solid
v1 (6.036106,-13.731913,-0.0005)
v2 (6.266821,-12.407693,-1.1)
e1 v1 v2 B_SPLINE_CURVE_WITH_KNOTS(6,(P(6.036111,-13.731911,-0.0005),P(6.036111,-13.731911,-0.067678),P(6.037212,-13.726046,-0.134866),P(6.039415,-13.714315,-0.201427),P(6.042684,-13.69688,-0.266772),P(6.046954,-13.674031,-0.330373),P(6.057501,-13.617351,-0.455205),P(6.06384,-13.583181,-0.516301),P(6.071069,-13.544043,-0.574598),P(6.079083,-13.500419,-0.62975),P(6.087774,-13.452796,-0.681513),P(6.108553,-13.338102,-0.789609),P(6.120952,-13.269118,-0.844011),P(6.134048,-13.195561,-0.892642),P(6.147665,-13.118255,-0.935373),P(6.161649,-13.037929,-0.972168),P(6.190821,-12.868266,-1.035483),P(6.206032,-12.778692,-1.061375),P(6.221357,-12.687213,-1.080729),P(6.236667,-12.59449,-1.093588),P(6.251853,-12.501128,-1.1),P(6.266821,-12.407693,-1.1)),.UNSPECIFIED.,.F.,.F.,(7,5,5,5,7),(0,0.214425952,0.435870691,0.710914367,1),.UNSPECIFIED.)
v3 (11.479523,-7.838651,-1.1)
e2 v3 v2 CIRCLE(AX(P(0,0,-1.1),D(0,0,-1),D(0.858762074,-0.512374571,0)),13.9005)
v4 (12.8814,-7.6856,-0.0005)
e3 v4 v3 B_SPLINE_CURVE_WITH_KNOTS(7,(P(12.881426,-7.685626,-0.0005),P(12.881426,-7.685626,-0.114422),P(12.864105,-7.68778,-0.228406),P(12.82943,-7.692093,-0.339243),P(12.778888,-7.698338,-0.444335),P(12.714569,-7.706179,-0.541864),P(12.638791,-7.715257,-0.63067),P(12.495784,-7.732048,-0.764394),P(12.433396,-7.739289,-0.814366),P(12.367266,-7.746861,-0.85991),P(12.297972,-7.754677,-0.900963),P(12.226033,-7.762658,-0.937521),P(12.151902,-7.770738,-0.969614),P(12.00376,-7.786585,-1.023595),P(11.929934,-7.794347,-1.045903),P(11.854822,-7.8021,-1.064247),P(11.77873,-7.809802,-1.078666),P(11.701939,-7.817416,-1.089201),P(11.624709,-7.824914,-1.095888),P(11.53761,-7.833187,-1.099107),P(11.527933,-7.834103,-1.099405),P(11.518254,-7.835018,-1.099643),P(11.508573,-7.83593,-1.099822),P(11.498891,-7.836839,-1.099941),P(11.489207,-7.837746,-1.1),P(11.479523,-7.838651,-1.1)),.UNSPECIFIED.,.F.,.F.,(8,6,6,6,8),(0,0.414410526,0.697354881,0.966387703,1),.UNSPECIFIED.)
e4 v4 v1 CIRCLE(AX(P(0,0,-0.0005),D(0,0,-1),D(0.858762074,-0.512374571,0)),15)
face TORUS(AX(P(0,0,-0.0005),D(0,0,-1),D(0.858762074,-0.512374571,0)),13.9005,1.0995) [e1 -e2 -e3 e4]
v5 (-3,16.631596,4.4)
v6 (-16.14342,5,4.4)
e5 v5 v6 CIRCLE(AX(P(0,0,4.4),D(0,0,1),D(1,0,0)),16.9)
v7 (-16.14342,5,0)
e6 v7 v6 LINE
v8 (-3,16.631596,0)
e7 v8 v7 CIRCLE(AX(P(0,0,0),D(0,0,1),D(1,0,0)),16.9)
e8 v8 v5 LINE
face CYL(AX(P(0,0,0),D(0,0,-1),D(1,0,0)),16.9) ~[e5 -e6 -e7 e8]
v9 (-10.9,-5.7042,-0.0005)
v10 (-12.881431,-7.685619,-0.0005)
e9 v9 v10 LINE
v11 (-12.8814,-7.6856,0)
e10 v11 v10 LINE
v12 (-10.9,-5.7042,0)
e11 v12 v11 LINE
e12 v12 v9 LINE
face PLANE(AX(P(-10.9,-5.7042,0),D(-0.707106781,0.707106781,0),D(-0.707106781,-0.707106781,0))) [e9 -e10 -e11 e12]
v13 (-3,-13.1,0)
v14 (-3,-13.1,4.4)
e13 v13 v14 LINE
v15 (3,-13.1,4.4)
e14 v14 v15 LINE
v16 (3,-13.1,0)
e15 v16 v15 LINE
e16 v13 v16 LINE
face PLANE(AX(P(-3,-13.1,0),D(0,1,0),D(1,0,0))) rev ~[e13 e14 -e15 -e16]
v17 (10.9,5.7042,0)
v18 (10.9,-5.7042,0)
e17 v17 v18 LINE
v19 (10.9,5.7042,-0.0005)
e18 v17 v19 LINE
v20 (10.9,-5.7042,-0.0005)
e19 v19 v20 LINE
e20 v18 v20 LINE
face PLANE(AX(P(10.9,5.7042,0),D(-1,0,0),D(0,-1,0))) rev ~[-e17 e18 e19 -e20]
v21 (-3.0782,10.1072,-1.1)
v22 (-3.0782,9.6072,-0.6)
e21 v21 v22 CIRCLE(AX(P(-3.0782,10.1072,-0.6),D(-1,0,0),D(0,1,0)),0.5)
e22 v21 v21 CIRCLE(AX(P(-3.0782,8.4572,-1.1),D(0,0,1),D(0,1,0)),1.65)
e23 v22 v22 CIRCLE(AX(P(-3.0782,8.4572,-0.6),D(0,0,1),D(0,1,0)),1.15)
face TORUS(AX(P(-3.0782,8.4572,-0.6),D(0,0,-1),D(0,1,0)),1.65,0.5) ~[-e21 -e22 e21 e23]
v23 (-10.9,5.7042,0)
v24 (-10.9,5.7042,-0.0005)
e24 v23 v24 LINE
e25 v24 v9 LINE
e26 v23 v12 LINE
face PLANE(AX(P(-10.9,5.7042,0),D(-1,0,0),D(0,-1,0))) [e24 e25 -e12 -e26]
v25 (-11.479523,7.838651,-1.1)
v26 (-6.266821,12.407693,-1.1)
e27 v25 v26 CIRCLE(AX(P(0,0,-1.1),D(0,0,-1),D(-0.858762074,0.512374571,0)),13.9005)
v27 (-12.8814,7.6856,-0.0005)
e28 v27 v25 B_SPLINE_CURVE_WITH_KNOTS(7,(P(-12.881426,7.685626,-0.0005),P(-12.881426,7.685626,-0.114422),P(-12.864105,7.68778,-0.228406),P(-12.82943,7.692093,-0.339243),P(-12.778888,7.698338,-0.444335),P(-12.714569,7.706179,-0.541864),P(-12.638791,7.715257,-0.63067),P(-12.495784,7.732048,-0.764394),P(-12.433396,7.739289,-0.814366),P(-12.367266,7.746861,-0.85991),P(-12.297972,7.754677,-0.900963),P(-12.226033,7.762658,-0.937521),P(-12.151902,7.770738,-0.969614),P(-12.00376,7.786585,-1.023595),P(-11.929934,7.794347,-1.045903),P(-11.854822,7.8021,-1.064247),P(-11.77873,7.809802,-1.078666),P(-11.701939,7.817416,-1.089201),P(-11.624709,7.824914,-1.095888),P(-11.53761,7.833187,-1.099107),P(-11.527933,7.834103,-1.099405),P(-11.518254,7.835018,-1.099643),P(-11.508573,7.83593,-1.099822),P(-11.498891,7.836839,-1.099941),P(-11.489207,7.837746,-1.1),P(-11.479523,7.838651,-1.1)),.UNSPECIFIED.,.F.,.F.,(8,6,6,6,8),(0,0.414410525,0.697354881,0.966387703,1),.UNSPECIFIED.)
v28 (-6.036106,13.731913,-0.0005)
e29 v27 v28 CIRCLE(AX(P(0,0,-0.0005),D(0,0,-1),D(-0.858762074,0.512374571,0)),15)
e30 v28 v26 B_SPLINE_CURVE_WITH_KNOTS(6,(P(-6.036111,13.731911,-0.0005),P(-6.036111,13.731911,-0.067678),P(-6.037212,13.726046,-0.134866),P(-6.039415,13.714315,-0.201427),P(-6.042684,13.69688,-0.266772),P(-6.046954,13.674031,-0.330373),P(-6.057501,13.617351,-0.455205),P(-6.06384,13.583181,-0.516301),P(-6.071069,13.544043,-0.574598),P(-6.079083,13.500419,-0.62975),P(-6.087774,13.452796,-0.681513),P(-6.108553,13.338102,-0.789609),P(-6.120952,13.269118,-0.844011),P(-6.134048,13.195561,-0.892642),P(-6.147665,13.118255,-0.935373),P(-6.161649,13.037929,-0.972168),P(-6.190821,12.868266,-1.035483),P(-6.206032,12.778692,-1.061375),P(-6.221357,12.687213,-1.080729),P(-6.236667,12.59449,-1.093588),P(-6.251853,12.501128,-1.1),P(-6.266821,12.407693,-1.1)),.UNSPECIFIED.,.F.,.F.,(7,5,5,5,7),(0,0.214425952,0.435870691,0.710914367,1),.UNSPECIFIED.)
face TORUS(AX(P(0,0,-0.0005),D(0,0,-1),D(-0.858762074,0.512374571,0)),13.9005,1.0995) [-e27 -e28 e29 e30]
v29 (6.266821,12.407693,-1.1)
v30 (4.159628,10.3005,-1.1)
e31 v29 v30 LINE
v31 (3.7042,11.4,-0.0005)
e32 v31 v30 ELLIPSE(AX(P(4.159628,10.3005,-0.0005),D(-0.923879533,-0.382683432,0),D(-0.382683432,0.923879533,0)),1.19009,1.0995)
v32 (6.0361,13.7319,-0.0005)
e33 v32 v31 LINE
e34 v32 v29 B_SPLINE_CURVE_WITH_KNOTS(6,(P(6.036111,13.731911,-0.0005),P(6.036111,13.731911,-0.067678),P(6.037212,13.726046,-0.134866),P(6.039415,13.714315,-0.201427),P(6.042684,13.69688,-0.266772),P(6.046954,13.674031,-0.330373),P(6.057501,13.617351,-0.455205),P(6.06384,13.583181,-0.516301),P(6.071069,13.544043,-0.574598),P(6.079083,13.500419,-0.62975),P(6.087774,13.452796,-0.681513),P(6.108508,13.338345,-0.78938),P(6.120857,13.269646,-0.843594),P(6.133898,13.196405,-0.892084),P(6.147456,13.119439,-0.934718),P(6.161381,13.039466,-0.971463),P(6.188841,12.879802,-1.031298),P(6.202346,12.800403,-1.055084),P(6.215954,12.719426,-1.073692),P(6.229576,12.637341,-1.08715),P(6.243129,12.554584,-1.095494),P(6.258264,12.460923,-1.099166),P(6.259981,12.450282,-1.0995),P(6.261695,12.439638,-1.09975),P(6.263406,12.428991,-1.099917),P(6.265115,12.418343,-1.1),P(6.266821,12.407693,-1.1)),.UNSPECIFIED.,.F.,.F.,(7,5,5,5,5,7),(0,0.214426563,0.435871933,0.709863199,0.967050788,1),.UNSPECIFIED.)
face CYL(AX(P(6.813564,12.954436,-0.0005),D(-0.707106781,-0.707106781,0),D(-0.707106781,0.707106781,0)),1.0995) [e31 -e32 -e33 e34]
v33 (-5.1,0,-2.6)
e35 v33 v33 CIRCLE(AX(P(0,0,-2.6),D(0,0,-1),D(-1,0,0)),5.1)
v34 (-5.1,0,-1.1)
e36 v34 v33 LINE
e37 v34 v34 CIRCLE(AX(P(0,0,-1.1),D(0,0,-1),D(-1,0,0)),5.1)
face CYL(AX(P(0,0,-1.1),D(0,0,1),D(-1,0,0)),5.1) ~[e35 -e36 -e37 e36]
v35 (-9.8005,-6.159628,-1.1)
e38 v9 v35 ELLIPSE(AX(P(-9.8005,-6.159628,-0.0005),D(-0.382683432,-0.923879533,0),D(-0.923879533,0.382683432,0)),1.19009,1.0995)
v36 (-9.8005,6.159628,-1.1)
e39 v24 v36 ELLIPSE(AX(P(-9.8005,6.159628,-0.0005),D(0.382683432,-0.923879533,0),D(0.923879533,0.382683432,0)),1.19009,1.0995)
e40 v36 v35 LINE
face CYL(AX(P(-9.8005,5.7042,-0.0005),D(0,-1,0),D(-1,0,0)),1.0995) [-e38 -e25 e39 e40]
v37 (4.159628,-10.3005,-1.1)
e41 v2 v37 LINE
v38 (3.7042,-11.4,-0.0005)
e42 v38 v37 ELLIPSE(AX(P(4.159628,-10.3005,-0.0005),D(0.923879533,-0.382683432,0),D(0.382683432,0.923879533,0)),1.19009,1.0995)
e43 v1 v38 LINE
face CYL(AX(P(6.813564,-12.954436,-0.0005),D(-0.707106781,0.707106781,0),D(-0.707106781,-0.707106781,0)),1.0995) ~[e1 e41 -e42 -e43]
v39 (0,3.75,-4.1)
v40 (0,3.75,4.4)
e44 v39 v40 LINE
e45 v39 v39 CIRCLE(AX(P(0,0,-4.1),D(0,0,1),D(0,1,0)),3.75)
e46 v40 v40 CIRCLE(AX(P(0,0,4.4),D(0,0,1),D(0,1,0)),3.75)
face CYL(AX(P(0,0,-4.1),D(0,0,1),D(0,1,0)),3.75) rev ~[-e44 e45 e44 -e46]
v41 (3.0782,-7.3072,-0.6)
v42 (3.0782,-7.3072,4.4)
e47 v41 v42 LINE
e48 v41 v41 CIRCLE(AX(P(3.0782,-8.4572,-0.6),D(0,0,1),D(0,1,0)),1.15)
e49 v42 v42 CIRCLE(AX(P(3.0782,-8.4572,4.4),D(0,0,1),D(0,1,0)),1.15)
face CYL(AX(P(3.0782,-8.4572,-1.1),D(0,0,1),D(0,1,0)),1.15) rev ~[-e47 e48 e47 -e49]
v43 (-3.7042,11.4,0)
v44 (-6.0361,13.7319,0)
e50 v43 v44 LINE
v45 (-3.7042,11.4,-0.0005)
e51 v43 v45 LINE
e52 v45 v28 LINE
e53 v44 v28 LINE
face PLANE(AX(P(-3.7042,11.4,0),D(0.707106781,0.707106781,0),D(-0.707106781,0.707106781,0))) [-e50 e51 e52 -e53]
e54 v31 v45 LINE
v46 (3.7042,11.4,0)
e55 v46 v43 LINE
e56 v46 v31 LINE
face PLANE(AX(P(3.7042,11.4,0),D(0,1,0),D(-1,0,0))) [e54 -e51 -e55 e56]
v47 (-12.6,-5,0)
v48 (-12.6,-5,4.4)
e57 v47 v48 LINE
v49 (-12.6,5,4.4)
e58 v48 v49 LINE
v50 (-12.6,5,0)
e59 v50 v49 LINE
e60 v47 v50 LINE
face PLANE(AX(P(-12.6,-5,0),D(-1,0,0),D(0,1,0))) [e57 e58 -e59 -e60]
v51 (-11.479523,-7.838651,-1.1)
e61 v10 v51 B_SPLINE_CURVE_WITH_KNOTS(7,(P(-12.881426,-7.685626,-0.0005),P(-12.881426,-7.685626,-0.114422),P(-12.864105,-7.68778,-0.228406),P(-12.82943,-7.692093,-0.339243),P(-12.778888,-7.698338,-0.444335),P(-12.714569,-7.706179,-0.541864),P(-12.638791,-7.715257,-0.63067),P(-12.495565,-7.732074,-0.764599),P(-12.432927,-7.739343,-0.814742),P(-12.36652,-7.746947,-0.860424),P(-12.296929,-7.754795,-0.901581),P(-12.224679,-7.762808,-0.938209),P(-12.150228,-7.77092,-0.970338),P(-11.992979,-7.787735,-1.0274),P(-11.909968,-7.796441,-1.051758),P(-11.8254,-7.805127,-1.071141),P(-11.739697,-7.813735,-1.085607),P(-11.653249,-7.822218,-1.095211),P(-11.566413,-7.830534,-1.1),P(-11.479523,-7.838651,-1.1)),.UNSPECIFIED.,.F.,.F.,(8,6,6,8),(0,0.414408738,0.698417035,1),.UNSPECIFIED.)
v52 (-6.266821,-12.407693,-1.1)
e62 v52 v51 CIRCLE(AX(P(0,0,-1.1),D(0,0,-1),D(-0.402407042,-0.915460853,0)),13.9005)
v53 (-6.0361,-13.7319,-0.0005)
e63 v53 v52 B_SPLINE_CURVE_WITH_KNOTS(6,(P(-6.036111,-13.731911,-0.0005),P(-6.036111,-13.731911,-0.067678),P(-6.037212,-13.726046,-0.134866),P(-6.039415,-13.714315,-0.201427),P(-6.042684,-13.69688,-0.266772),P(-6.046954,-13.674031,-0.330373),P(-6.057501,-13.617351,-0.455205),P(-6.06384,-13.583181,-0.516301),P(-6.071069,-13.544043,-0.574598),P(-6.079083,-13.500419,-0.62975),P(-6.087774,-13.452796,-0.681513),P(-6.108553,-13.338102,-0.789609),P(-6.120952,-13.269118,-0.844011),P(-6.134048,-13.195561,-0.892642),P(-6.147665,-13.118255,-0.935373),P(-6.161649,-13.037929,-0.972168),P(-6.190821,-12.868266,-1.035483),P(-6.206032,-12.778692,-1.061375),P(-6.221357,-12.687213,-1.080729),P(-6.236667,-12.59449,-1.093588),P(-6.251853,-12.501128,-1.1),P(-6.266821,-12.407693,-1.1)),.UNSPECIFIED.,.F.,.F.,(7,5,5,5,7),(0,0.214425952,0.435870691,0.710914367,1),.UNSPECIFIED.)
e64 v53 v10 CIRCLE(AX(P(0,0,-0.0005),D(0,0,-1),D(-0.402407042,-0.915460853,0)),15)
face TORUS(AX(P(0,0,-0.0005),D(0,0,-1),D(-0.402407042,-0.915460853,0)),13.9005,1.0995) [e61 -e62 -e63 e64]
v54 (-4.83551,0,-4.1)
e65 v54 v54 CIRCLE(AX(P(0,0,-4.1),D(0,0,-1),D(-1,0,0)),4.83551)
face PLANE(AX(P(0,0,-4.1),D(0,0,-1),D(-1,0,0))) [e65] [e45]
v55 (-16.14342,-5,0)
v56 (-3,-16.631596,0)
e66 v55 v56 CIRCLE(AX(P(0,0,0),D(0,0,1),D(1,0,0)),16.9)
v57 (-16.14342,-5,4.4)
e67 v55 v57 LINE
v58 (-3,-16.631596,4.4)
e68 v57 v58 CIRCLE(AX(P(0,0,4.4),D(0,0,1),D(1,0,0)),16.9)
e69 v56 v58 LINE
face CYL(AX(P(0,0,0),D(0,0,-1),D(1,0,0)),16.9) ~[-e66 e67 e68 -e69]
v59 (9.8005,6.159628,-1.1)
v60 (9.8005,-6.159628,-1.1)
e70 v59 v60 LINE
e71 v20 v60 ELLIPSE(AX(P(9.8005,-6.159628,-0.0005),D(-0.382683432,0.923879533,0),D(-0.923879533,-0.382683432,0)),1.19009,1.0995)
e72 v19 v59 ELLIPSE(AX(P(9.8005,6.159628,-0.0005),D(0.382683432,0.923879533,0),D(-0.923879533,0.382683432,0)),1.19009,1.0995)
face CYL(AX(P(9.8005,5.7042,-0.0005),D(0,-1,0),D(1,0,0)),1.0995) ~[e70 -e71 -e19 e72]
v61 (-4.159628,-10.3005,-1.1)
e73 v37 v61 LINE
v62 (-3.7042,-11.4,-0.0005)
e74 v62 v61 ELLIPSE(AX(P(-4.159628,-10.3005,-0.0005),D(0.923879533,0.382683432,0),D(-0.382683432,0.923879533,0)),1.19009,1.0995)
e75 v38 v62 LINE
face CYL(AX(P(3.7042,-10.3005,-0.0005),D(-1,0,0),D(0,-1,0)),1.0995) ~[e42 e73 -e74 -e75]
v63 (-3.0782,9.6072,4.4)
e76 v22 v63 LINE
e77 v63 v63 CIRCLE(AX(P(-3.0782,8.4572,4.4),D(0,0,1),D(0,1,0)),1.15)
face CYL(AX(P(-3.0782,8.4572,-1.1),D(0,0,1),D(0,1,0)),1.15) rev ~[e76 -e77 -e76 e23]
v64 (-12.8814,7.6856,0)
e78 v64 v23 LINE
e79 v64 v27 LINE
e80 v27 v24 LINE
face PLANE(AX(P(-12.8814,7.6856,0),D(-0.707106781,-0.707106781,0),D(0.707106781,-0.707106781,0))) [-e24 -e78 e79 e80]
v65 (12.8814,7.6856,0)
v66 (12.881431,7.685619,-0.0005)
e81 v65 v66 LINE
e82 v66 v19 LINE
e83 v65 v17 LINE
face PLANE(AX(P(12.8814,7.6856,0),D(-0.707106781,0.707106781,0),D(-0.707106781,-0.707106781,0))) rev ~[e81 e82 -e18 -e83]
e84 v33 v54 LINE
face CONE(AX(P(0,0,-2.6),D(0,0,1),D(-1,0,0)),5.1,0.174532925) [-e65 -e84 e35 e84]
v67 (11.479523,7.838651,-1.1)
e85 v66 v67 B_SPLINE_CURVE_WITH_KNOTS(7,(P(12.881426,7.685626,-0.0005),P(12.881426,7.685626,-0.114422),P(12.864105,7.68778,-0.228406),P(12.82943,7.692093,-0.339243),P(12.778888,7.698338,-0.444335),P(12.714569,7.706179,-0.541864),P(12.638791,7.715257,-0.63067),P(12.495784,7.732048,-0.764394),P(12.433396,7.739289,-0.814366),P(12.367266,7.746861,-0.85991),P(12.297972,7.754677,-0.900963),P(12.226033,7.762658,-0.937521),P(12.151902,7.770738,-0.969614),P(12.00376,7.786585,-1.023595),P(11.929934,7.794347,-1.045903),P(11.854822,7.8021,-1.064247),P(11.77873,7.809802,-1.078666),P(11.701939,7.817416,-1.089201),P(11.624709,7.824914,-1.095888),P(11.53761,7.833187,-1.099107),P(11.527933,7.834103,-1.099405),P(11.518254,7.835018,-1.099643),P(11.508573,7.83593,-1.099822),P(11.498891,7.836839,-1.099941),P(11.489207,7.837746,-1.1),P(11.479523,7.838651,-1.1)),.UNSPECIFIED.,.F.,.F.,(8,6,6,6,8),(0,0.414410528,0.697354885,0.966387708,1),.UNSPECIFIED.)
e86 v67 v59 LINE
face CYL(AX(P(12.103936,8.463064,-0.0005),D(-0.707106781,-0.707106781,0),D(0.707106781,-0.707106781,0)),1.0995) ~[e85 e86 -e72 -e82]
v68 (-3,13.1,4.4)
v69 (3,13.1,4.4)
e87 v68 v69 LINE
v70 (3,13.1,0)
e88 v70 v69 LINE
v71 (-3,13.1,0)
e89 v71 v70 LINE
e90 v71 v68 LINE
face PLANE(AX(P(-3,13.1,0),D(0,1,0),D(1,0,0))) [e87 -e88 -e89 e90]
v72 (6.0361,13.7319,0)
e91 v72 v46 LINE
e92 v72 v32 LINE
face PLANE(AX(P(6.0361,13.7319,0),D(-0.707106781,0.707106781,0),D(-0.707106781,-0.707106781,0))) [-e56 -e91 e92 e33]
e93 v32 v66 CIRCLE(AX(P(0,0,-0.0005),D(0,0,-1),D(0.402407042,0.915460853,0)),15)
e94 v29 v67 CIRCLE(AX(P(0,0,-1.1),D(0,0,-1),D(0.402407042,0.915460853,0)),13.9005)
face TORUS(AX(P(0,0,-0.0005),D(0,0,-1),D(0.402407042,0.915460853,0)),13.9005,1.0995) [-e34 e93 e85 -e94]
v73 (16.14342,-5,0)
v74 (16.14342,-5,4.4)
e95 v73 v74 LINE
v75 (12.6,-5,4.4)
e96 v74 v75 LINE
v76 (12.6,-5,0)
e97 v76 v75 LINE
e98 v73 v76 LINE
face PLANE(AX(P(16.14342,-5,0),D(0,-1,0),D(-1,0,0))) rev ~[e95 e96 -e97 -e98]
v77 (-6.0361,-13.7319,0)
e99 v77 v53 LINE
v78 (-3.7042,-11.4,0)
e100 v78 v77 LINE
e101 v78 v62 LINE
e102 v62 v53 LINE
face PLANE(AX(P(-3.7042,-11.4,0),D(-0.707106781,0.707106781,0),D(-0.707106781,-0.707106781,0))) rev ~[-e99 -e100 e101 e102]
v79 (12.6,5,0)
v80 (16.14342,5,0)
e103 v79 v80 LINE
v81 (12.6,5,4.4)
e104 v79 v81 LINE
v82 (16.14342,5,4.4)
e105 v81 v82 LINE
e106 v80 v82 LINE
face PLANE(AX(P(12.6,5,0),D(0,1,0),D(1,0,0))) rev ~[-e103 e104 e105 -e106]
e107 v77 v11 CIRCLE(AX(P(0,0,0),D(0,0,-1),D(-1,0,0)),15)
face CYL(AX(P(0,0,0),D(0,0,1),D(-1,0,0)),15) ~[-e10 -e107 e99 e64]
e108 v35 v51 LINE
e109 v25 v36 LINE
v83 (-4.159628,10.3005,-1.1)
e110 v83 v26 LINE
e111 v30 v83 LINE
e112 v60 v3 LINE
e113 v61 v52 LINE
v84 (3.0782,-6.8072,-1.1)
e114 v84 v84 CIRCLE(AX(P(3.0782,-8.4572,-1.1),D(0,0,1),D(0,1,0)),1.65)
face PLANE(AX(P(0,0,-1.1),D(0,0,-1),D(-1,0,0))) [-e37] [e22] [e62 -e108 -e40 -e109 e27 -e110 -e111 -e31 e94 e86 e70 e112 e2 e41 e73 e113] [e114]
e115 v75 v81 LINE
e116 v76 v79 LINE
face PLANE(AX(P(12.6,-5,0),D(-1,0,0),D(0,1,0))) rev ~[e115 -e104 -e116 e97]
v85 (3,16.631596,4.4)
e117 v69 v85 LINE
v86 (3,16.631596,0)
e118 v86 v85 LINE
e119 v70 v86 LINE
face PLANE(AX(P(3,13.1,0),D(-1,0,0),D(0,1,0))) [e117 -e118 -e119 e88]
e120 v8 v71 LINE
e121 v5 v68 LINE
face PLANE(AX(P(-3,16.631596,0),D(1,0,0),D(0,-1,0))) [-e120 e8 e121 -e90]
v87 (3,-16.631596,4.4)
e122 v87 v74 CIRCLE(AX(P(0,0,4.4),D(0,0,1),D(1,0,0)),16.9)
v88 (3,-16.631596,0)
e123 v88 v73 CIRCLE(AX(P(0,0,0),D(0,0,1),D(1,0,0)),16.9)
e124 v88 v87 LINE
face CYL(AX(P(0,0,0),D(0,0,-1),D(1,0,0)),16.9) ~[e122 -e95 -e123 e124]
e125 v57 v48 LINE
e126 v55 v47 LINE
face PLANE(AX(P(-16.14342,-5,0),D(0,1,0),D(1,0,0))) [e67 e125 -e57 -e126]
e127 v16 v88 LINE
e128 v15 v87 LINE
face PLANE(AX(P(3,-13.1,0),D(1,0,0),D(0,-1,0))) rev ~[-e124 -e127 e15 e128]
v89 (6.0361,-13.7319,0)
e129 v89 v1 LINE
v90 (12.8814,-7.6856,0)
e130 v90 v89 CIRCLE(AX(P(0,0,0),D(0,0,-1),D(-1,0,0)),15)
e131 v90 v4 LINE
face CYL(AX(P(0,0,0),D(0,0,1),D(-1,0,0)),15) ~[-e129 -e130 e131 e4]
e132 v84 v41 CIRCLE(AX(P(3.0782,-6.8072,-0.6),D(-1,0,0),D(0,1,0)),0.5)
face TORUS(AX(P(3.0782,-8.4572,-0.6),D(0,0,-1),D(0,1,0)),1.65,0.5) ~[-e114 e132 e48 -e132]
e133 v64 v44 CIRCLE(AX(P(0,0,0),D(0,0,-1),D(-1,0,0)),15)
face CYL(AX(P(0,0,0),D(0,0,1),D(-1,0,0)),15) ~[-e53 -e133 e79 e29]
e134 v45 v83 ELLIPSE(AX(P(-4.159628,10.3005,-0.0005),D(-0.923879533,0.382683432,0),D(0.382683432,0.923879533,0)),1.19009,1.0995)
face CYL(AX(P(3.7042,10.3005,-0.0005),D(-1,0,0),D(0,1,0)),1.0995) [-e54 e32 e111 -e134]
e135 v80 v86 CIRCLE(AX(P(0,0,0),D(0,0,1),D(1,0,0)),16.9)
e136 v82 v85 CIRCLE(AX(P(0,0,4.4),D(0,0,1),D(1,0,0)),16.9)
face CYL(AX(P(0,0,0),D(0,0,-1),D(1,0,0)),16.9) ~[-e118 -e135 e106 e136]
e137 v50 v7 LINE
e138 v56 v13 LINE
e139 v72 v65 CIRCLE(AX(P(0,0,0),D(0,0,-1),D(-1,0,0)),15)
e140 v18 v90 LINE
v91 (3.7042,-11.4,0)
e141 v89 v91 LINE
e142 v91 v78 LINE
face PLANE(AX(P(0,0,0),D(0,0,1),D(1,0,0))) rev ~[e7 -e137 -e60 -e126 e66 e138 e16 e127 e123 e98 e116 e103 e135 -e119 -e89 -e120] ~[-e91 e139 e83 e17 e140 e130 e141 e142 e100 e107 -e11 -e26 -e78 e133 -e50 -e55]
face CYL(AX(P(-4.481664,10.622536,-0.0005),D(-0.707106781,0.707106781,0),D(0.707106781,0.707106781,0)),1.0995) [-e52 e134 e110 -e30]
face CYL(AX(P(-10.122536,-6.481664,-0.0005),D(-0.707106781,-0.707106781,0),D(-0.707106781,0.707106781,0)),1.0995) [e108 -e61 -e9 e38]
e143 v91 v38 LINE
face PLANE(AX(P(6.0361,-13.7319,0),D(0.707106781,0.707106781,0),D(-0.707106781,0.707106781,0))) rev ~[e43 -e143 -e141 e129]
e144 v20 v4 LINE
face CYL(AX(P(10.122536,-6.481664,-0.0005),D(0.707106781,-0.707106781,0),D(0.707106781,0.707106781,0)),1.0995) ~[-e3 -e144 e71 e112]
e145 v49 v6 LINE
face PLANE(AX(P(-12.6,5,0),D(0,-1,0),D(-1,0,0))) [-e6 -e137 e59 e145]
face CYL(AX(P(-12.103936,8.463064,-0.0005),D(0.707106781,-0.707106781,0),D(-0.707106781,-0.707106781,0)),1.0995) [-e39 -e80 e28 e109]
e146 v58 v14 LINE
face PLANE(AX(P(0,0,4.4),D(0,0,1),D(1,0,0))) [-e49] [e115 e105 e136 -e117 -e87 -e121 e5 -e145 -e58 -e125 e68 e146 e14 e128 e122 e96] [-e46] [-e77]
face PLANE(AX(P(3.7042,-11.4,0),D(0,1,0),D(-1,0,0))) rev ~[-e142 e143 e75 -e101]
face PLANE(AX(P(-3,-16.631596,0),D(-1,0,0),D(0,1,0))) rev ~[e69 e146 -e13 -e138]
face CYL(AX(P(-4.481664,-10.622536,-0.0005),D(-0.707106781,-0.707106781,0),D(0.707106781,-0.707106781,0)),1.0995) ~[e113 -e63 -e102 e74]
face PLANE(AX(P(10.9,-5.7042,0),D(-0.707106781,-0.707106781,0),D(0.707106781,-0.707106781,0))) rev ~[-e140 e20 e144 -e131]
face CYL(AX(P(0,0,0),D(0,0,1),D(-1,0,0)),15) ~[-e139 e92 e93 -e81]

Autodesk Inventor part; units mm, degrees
ref_plane "YZ Plane" through (0, 0, 0) normal (1, 0, 0) x (0, 1, 0)
ref_plane "XZ Plane" through (0, 0, 0) normal (0, 1, 0) x (-1, 0, 0)
ref_plane "XY Plane" through (0, 0, 0) normal (0, 0, 1) x (1, 0, 0)
sketch "スケッチ1" plane through (0, 0, 0) normal (0, 0, 1) x (1, 0, 0)
  circle A0 centre (0, 0) radius 16.9
  line L0 (-3, 13.1) -> (3, 13.1)
  line L1 (3, 13.1) -> (3, 16.9)
  line L2 (3, 16.9) -> (-3, 16.9)
  line L3 (-3, 16.9) -> (-3, 13.1)
  line L4 (-12.6, 5) -> (-16.9, 5)
  line L5 (-16.9, 5) -> (-16.9, -5)
  line L6 (-16.9, -5) -> (-12.6, -5)
  line L7 (-12.6, -5) -> (-12.6, 5)
  line L8 (16.9, 0) -> (-16.9, 0) construction
  line L9 (0, 16.9) -> (0, -16.9) construction
  line L10 (-3, -13.1) -> (3, -13.1)
  line L11 (3, -13.1) -> (3, -16.9)
  line L12 (3, -16.9) -> (-3, -16.9)
  line L13 (-3, -16.9) -> (-3, -13.1)
  line L14 (12.6, 5) -> (16.9, 5)
  line L15 (16.9, 5) -> (16.9, -5)
  line L16 (16.9, -5) -> (12.6, -5)
  line L17 (12.6, -5) -> (12.6, 5)
  point P0 (-12.6, 0)
  point P1 (0, 13.1)
  point P2 (-3, 16.6316)
  point P3 (-16.1434, 5)
  point P4 (-16.1434, -5)
  point P5 (-3, -16.6316)
  point P6 (3, -16.6316)
  point P7 (16.1434, -5)
  point P8 (16.1434, 5)
  point P9 (3, 16.6316)
  dimension "d0" = 33.8
  dimension "d1" = 6
  dimension "d2" = 10
  dimension "d3" = 3.8
  dimension "d4" = 4.3
extrude "押し出し1" add sketch "スケッチ1" along normal blind 4.4 contours L14 L17 L16 A0 L11 L10 L13 L6 L7 L4 L3 L0 L1
sketch "スケッチ2" plane through (0, 0, 0) normal (0, 0, -1) x (-1, 0, 0)
  circle A0 centre (0, 0) radius 15
  line L0 (12.8814, 7.6856) -> (10.9, 5.7042)
  line L1 (10.9, 5.7042) -> (10.9, -5.7042)
  line L2 (10.9, -5.7042) -> (12.8814, -7.6856)
  line L3 (12.6, 5) -> (12.6, -5) projected
  line L4 (15, 0) -> (-15, 0) construction
  line L5 (-6.0361, 13.7319) -> (-3.7042, 11.4)
  line L6 (-3.7042, 11.4) -> (3.7042, 11.4)
  line L7 (3.7042, 11.4) -> (6.0361, 13.7319)
  line L8 (0, 15) -> (0, -15) construction
  line L9 (-3, 13.1) -> (3, 13.1) projected
  line L10 (-12.8814, 7.6856) -> (-10.9, 5.7042)
  line L11 (-10.9, 5.7042) -> (-10.9, -5.7042)
  line L12 (-10.9, -5.7042) -> (-12.8814, -7.6856)
  line L13 (-6.0361, -13.7319) -> (-3.7042, -11.4)
  line L14 (-3.7042, -11.4) -> (3.7042, -11.4)
  line L15 (3.7042, -11.4) -> (6.0361, -13.7319)
  point P0 (-12.8814, 7.6856)
  point P1 (-12.8814, -7.6856)
  point P2 (-6.0361, -13.7319)
  point P3 (6.0361, -13.7319)
  dimension "d7" = 30
  dimension "d8" = 1.7
  dimension "d9" = 135
  dimension "d10" = 1.7
  dimension "d11" = 1.7
  dimension "d12" = 1.7
  dimension "d13" = 135
extrude "押し出し2" add sketch "スケッチ2" along normal blind 1.1 contours L0 L1 L2 A0 L15 L14 L13 L12 L11 L10 L5 L6 L7
sketch "スケッチ3" plane through (0, 0, -1.1) normal (0, 0, -1) x (-1, 0, 0)
  circle A0 centre (0, 0) radius 5.1
  dimension "d16" = 10.2
extrude "押し出し3" add sketch "スケッチ3" along normal blind 3
sketch "スケッチ4" plane through (0, 0, -4.1) normal (0, 0, -1) x (-1, 0, 0)
  point P0 (0, 0)
  point P1 (0, 0)
hole "穴1" at (0, 0, -4.1) direction (0, 0, 1) diameter 7.5 end through all
fillet "フィレット1" radius 1.1 16 edges at (-11.8907, 6.6949, -1.1) (-9.9301, 11.2424, -1.1) (-4.8701, 12.566, -1.1) (0, 11.4, -1.1) (4.8701, 12.566, -1.1) (9.9301, 11.2424, -1.1) (11.8907, 6.6949, -1.1) (10.9, 0, -1.1) (11.8907, -6.6949, -1.1) (9.9301, -11.2424, -1.1) (4.8701, -12.566, -1.1) (0, -11.4, -1.1) (-4.8701, -12.566, -1.1) (-9.9301, -11.2424, -1.1) (-11.8907, -6.6949, -1.1) (-10.9, 0, -1.1)
chamfer "面取り1" distance 1.5 angle 10 1 edges at (5.1, 0, -4.1) measured on face at (-5.0835, -0.4104, -3.1)
sketch "スケッチ5" plane through (0, 0, -1.1) normal (0, 0, -1) x (-1, 0, 0)
  line L0 (-3.0782, -8.4572) -> (3.0782, 8.4572)
  line L1 (0, -23.2842) -> (0, 23.2842) projected
  point P0 (0, 0)
  point P1 (0, 0)
  dimension "d30" = 18
  dimension "d31" = 20
hole "穴2" at (-3.0782, 8.4572, -1.1) at (3.0782, -8.4572, -1.1) direction (0, 0, 1) diameter 2.3 end through all
fillet "フィレット2" radius 0.5 2 edges at (3.0782, -9.6072, -1.1) (-3.0782, 7.3072, -1.1)
properties part number "555_Cap" material "鉄、鋳鉄"
